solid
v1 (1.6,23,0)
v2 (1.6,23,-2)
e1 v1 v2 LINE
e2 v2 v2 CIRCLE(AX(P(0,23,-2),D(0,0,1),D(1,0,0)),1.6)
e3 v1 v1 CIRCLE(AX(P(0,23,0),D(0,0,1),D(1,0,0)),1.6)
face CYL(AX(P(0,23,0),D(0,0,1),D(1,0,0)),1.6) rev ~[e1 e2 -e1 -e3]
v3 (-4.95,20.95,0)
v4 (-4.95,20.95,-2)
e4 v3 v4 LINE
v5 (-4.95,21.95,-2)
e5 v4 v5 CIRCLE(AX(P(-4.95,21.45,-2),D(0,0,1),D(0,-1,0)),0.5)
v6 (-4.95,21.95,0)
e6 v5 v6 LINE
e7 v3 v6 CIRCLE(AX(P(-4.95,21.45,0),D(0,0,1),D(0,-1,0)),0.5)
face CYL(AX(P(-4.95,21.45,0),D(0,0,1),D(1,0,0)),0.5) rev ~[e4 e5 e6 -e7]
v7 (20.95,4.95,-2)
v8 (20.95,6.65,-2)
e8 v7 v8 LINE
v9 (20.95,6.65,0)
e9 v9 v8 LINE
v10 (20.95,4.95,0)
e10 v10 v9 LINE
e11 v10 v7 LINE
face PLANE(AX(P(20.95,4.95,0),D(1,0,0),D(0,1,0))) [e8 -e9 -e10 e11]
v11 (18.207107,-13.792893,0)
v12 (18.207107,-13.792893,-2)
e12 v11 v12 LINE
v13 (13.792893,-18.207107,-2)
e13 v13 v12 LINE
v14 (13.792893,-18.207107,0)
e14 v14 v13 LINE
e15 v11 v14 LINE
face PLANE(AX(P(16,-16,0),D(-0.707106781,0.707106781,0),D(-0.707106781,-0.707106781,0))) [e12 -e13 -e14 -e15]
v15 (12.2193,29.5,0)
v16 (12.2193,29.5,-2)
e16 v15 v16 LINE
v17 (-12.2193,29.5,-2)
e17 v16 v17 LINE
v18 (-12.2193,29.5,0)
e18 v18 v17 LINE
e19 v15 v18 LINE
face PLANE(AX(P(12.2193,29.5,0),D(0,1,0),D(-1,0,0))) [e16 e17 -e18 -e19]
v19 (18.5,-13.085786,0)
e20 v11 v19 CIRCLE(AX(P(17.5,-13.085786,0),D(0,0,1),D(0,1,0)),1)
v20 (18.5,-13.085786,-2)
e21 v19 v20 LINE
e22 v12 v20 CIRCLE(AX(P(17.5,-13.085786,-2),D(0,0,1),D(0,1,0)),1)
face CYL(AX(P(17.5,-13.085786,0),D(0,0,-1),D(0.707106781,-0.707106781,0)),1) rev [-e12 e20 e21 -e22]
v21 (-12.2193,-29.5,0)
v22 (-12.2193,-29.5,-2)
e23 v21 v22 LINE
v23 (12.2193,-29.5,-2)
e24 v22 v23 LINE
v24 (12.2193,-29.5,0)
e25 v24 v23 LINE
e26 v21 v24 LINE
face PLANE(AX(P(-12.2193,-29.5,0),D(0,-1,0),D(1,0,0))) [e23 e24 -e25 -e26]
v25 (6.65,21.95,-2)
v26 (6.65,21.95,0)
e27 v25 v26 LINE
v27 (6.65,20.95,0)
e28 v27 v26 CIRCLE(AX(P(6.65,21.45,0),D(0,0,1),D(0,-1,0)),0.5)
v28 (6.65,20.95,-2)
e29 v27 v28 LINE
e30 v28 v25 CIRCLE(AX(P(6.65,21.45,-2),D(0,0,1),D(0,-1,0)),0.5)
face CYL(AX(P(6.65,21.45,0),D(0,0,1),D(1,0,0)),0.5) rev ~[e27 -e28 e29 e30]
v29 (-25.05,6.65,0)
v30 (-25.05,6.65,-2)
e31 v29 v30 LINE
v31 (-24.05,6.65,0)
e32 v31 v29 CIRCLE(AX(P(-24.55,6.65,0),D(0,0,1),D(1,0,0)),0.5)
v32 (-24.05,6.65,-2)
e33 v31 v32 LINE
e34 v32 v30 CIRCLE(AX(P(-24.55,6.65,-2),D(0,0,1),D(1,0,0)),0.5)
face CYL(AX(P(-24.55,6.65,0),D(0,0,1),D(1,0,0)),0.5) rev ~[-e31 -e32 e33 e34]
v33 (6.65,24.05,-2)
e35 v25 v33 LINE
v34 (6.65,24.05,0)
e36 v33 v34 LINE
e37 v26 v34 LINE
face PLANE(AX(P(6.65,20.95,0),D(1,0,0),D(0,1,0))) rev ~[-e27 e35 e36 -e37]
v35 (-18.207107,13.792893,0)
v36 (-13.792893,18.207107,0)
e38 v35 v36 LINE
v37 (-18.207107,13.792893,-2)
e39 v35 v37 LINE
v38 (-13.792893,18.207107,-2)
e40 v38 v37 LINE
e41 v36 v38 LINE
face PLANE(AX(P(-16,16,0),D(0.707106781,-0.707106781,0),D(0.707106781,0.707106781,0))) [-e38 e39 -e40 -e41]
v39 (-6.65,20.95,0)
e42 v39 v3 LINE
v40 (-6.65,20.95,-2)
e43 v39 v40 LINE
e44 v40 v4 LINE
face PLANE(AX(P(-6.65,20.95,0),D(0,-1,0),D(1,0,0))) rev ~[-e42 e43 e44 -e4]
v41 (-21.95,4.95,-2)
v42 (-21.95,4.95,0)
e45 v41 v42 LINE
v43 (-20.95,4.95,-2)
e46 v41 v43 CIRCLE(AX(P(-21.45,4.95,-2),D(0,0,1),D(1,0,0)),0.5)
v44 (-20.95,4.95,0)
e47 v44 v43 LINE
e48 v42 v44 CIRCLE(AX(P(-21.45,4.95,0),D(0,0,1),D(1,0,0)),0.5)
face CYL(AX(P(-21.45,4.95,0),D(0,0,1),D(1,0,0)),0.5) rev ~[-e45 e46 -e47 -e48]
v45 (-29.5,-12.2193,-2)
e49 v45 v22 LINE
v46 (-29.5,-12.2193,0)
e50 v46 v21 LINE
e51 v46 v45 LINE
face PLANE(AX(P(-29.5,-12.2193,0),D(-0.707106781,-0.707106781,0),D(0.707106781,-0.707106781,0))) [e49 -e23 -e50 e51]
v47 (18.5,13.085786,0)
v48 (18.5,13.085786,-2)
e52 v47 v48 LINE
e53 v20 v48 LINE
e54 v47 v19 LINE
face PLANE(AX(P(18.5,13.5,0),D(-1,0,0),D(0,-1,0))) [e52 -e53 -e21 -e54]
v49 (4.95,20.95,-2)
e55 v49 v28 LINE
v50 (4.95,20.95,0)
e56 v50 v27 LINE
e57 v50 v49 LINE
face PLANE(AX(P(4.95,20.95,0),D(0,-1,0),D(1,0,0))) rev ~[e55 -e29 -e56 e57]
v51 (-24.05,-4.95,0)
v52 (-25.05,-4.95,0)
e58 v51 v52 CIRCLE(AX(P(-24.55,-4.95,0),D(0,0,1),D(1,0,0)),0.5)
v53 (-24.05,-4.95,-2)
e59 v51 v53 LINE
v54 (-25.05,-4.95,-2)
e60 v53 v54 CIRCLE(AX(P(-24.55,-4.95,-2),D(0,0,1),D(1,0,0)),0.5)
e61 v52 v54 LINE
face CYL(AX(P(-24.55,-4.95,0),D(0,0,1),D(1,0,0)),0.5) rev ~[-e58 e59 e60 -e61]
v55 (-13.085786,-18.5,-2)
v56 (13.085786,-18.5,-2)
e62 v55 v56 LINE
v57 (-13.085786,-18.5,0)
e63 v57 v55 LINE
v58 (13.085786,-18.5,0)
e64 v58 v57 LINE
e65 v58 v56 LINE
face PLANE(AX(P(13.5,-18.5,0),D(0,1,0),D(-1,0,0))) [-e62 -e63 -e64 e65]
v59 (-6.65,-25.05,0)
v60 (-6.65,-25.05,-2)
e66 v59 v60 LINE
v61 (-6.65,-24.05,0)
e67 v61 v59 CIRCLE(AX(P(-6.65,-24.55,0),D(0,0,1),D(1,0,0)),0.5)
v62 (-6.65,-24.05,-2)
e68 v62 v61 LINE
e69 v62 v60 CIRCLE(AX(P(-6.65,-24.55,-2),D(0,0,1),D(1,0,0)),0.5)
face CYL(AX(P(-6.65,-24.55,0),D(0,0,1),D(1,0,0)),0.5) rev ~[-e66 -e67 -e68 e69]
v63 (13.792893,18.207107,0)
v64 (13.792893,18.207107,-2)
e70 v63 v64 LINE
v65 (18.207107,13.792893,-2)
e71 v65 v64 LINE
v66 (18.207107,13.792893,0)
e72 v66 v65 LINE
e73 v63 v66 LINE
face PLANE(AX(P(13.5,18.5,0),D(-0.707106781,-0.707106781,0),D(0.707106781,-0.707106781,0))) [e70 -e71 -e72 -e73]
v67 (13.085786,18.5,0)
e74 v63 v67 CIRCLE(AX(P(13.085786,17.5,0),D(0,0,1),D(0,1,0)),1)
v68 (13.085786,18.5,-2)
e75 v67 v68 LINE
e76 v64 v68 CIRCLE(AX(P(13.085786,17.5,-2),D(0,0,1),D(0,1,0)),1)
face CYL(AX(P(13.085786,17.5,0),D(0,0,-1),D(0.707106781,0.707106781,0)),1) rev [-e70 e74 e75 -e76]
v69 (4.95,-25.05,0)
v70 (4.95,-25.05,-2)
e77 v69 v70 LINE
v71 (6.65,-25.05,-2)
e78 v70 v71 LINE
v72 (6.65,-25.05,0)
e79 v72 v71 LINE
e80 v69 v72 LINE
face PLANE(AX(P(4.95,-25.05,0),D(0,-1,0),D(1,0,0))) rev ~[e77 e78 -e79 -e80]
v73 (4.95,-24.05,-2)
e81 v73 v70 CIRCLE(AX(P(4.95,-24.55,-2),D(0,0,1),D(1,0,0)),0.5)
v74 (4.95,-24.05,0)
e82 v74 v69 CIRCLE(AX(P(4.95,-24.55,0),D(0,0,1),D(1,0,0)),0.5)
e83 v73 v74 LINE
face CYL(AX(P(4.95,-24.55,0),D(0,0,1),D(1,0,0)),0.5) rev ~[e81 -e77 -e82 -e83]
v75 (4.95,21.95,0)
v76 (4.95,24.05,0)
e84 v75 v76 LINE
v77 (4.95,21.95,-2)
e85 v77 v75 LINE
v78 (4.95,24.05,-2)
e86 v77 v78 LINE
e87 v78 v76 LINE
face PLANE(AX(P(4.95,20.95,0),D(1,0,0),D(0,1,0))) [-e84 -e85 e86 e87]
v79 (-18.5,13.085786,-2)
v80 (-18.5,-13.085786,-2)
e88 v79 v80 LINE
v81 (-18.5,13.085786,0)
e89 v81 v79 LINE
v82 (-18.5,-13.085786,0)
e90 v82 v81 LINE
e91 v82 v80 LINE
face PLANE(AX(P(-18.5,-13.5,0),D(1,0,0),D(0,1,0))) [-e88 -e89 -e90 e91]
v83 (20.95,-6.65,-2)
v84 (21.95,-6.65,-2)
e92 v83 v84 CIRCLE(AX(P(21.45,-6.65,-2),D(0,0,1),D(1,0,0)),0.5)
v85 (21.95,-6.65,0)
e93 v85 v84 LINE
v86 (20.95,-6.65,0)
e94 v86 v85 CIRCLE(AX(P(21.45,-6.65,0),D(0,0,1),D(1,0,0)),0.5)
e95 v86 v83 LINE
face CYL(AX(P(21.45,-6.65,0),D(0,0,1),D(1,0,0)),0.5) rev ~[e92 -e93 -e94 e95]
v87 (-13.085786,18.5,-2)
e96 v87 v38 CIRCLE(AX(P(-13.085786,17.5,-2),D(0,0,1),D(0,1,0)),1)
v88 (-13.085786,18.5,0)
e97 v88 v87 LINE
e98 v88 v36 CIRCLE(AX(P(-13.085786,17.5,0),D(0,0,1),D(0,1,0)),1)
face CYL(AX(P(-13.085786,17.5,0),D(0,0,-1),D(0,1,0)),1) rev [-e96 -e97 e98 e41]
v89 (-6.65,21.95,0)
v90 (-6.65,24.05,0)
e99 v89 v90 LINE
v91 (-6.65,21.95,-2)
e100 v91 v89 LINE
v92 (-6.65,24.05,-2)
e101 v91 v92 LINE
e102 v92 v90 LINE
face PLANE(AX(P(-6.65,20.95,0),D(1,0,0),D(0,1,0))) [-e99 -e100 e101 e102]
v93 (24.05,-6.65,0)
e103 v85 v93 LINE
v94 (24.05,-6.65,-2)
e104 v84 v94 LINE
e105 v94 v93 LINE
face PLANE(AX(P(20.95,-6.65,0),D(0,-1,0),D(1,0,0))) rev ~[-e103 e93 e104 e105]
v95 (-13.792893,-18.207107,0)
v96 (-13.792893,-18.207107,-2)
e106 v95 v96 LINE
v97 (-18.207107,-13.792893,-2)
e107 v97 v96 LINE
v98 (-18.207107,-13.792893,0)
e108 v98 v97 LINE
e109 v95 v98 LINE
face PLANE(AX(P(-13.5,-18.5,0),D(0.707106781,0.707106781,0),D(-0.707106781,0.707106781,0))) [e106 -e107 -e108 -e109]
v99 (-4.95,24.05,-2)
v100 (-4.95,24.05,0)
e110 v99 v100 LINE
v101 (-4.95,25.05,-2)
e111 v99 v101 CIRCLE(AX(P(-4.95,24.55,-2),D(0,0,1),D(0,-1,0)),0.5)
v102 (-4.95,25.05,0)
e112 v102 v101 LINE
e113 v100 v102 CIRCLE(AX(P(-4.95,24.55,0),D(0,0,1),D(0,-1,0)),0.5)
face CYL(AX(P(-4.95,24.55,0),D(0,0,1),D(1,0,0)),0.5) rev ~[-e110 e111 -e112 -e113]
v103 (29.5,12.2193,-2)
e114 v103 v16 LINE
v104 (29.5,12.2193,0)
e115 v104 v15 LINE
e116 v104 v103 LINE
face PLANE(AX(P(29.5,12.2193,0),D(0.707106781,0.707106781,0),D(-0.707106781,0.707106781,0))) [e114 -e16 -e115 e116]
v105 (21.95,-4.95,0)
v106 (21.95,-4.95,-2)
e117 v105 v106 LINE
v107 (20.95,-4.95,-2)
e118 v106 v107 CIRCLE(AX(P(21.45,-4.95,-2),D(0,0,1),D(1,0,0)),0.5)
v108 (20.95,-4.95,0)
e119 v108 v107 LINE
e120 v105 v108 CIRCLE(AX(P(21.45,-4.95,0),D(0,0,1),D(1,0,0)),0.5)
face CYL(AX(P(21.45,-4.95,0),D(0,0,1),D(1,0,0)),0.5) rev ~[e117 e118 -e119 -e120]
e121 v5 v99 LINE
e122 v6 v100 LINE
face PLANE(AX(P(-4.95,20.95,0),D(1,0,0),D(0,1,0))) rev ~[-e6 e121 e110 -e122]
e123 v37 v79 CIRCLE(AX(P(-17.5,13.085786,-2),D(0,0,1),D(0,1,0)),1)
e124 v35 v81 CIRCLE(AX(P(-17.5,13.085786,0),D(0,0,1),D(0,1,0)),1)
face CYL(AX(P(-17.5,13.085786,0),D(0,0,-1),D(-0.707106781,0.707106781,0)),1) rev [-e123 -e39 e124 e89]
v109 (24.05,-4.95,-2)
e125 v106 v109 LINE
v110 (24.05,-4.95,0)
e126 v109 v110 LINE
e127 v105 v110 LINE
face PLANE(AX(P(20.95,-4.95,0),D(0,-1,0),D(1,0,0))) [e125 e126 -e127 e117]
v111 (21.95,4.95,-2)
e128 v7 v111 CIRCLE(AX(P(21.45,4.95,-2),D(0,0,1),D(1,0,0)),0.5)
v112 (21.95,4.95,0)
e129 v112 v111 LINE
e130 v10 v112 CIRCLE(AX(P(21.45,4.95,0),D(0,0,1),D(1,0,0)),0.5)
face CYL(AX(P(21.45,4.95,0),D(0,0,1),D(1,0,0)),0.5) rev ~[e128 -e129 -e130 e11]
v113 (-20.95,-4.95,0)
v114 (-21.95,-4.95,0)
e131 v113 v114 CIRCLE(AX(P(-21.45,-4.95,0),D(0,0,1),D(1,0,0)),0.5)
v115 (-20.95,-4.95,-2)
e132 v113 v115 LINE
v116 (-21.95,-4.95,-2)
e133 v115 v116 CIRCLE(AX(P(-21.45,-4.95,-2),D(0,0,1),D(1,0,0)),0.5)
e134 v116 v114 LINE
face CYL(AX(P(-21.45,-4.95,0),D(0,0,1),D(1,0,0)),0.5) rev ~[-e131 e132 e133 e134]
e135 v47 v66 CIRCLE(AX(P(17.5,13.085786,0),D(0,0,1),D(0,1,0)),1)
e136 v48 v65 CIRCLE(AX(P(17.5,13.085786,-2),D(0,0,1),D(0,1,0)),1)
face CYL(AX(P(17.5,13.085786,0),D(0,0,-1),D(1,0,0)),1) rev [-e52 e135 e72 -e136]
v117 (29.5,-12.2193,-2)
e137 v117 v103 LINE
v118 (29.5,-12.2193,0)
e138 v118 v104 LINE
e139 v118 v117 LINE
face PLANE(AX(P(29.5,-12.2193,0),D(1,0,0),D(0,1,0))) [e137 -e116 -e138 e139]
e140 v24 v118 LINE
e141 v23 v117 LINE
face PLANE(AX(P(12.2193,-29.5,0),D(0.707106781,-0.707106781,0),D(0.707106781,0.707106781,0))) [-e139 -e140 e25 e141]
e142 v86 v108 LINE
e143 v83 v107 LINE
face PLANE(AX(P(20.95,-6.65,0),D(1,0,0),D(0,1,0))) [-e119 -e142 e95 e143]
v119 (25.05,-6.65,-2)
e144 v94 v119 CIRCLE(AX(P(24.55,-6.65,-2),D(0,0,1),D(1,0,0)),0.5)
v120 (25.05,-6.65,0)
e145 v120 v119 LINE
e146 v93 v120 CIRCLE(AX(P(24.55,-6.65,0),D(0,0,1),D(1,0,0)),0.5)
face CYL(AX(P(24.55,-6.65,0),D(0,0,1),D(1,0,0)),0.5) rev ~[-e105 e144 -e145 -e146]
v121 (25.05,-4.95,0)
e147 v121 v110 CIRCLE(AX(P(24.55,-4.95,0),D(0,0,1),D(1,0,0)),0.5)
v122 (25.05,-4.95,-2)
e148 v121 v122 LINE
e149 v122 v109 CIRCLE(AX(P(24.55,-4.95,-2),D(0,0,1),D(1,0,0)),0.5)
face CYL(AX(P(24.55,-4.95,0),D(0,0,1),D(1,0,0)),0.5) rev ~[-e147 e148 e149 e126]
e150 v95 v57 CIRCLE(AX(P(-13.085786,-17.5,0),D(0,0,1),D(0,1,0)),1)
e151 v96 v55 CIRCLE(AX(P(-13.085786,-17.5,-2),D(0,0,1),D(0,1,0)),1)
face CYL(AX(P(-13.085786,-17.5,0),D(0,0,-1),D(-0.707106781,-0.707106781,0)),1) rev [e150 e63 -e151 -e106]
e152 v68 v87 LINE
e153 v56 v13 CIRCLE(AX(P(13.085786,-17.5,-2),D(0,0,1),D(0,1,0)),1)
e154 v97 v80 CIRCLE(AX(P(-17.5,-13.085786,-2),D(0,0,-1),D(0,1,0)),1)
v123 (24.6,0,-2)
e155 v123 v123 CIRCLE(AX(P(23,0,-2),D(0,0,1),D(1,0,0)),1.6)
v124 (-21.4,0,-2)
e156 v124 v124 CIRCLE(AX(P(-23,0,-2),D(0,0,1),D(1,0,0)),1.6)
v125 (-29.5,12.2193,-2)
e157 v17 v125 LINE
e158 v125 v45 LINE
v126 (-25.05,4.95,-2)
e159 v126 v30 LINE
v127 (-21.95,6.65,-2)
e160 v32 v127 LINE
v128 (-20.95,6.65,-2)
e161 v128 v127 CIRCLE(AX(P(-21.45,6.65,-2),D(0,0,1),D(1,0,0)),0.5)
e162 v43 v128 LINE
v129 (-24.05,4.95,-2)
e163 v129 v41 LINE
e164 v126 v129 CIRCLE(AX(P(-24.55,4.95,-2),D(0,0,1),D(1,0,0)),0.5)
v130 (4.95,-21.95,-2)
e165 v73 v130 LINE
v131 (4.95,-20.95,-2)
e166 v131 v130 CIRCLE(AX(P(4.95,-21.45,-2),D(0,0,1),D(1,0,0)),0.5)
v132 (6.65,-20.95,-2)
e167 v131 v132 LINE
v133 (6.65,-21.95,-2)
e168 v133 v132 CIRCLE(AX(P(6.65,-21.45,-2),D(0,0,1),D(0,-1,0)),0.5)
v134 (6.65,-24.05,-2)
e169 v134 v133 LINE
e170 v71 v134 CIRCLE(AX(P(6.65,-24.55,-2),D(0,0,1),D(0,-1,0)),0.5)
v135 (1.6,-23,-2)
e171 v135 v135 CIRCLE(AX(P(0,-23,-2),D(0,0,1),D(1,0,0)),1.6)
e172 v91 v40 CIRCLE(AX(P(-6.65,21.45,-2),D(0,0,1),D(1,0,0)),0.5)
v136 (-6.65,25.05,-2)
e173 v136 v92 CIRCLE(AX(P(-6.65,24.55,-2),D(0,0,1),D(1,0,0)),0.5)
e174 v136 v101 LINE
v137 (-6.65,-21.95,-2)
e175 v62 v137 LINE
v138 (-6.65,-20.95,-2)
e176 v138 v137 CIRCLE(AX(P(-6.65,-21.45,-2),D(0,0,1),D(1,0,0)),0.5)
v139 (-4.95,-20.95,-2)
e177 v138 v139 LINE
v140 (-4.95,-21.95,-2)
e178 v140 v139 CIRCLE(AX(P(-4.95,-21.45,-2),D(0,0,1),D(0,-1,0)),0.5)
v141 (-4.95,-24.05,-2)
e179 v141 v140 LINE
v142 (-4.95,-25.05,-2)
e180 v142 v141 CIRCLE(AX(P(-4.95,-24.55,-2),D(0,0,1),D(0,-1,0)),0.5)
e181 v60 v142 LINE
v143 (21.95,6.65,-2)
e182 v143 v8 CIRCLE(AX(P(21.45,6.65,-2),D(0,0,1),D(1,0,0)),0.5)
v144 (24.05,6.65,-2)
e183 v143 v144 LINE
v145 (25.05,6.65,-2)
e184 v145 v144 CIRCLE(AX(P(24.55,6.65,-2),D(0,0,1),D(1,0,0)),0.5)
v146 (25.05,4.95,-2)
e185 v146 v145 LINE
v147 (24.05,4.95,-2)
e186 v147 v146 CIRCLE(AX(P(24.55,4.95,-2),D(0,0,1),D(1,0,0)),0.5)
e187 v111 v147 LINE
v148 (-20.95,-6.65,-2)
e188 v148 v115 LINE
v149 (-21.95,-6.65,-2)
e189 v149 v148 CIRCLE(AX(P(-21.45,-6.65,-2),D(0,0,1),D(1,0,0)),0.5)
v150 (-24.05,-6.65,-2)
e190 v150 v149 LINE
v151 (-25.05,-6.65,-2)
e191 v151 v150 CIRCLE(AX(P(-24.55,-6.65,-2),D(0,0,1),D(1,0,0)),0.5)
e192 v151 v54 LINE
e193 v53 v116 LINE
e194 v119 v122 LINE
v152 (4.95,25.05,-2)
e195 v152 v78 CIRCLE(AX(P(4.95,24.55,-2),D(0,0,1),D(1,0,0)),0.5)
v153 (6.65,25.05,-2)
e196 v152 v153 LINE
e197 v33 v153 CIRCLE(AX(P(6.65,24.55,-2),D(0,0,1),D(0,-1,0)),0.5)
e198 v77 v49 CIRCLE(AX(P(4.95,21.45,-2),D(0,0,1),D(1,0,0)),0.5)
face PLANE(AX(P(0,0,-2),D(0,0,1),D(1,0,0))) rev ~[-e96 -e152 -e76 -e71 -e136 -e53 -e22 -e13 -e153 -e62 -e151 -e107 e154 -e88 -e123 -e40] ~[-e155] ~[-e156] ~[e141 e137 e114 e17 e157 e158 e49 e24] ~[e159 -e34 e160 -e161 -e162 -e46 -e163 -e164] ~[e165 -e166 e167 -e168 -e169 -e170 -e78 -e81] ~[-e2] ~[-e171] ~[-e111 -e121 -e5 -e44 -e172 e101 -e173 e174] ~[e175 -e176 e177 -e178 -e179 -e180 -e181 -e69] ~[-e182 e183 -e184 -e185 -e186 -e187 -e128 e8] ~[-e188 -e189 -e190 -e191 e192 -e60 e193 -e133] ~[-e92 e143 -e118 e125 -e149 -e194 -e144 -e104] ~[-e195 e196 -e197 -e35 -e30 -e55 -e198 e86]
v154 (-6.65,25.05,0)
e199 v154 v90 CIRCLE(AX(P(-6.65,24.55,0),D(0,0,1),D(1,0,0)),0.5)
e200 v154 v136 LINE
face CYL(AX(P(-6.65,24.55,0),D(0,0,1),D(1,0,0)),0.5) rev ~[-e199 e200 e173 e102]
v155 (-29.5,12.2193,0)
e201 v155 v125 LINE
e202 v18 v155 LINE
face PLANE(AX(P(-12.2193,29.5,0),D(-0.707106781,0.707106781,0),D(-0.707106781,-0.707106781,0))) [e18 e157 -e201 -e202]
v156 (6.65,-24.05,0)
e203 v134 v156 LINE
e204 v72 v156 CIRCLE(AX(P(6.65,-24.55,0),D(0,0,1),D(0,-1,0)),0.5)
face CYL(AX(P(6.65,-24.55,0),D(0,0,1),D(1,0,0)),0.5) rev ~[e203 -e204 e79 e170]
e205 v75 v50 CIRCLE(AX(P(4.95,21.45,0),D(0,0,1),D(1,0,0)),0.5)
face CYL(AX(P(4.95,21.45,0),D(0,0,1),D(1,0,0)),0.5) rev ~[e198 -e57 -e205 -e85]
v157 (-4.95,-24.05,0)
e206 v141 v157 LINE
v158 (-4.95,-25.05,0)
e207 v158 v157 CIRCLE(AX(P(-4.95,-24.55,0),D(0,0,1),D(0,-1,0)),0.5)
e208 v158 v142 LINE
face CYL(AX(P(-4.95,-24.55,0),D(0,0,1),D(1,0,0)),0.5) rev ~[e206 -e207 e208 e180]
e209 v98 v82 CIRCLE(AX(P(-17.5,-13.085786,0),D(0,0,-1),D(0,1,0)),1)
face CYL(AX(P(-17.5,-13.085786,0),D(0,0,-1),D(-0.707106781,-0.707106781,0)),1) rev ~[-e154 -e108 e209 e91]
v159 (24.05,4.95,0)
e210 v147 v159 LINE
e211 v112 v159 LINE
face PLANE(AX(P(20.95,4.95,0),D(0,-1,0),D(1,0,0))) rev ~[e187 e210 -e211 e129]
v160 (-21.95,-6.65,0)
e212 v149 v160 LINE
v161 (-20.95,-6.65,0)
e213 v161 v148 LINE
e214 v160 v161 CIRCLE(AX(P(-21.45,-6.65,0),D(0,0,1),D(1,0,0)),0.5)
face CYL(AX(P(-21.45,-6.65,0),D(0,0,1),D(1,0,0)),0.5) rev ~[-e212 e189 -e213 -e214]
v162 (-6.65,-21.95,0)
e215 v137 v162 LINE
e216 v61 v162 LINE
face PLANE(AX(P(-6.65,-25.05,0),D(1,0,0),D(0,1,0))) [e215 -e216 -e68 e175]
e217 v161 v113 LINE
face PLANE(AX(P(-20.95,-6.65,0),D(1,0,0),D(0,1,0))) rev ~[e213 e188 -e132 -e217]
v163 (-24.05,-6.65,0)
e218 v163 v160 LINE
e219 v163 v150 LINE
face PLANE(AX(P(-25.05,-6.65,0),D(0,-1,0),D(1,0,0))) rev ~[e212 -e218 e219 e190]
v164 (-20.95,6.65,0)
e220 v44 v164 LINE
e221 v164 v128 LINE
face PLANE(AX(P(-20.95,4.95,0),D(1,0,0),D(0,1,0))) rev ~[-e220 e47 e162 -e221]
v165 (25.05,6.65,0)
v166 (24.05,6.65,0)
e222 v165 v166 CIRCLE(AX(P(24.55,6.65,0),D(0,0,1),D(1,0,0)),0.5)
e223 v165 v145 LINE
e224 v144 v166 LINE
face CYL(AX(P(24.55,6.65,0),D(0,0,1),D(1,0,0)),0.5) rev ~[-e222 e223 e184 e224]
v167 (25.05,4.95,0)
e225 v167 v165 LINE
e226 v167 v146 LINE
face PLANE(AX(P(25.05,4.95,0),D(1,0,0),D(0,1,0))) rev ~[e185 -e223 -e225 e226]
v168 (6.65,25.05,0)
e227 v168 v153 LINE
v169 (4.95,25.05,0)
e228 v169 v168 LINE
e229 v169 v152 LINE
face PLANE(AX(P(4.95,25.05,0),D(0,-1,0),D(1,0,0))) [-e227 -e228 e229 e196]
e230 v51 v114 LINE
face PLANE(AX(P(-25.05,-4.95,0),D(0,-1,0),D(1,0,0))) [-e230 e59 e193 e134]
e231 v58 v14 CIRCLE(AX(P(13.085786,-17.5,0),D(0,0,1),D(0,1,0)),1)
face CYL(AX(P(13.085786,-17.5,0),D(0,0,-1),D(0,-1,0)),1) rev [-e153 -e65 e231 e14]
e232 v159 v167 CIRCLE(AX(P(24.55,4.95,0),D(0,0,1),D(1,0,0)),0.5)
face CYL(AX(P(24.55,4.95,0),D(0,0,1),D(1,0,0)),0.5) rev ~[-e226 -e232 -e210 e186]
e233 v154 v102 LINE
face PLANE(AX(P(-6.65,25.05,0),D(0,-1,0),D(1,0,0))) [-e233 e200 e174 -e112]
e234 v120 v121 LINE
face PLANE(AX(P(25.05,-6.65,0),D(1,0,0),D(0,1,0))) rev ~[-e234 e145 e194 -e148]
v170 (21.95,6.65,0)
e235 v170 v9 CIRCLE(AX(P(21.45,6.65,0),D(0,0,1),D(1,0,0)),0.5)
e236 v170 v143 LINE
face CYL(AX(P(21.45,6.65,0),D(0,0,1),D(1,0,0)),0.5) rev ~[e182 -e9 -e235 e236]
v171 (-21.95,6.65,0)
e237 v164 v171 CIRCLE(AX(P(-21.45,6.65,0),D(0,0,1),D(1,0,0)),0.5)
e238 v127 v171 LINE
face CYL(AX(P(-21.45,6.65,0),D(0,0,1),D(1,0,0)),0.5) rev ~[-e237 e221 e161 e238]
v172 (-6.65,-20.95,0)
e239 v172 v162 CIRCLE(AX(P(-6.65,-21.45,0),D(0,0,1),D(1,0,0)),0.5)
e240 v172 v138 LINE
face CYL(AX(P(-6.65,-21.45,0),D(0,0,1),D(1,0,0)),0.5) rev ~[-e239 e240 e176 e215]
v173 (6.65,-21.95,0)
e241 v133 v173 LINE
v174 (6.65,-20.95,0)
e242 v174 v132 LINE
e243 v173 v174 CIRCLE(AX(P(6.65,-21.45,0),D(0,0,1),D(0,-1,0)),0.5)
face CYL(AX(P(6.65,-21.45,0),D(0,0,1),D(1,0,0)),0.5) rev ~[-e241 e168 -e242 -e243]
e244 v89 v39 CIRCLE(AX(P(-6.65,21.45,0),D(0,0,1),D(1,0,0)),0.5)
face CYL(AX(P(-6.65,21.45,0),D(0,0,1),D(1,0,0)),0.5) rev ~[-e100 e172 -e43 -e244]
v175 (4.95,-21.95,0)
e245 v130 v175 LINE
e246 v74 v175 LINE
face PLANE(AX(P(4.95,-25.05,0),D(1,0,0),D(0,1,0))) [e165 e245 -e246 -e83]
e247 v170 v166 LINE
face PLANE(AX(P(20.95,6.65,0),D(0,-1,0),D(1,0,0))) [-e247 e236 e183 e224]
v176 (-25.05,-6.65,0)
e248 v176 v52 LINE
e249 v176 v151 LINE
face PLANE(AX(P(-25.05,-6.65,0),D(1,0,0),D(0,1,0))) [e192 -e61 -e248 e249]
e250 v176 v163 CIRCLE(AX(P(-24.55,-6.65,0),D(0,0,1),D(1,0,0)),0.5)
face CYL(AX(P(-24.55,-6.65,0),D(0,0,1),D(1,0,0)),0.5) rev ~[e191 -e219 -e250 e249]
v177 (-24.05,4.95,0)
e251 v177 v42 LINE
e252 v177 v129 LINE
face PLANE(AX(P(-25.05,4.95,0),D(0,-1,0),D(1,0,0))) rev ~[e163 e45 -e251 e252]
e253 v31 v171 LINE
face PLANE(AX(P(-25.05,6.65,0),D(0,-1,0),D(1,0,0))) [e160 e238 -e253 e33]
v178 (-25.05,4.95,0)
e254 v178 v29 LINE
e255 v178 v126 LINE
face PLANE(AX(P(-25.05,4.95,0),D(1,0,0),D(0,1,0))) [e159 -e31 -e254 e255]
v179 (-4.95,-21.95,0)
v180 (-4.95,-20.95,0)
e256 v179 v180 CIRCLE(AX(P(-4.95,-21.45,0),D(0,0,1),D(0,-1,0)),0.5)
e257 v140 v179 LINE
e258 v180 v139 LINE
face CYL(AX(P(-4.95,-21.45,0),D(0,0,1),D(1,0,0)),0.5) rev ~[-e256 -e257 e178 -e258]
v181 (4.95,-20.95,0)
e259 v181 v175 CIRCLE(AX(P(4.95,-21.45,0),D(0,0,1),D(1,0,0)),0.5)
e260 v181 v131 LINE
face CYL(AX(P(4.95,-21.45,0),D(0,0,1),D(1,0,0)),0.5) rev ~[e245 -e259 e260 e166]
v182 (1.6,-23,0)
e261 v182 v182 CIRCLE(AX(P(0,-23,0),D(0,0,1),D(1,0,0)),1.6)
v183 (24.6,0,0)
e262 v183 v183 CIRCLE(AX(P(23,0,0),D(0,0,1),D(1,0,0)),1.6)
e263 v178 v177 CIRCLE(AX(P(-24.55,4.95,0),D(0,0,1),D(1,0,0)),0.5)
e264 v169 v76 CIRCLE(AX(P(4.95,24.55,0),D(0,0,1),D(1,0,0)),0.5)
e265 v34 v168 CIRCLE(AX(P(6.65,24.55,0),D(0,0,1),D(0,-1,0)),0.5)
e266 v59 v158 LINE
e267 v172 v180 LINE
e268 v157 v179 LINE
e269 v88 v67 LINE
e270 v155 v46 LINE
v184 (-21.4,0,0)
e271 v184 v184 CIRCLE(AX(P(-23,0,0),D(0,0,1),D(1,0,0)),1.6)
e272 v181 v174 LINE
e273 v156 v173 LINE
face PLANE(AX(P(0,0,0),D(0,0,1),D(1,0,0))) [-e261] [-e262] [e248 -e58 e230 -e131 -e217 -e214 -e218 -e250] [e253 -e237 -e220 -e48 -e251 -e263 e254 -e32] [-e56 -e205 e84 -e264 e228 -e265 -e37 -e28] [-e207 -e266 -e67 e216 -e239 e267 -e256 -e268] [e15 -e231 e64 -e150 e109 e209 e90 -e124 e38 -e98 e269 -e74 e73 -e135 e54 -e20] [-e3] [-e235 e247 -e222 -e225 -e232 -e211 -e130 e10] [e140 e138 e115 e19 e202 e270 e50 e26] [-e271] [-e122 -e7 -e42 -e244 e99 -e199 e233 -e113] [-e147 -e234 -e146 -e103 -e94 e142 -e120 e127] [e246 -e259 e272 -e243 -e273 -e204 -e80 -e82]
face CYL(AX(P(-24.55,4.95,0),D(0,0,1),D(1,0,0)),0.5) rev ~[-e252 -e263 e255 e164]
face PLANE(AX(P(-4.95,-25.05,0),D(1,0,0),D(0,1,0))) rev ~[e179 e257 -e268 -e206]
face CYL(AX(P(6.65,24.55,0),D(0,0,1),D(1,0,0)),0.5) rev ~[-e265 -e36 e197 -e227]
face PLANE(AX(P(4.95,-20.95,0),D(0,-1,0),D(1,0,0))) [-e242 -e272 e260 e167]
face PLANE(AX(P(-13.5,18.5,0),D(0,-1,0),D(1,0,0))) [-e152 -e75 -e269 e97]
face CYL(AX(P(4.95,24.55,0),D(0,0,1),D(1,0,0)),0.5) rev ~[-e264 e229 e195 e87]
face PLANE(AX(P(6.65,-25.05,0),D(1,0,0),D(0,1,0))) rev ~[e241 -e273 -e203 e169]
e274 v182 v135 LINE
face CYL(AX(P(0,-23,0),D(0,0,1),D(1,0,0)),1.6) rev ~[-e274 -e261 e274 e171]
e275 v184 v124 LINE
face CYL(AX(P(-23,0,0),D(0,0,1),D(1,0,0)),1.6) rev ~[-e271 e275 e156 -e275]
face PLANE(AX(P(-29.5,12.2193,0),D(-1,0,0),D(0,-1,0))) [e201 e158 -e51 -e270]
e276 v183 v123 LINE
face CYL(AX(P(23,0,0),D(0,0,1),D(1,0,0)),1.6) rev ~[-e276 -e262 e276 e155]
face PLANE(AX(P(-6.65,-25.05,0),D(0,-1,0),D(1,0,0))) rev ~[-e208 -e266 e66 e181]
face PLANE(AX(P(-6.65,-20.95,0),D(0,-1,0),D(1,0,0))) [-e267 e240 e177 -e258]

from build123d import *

# Parameters (mm, degrees)
SKETCH1_R           = 1.6
SKETCH1_W           = 4.1
SKETCH1_H           = 1.7
SKETCH1_W_2         = 1.7
SKETCH1_H_2         = 4.1
BOSS_EXTRUDE1_DEPTH = 2
CUT_EXTRUDE1_REACH  = 43.767
FILLET2_R           = 1
SKETCH4_R           = 0.5
CUT_EXTRUDE3_DEPTH  = 2


with BuildPart() as part:
    # Sketch1 → Boss-Extrude1 (new body)
    with BuildSketch(Plane.XY):
        Polygon((29.5, 12.21930009), (12.21930009, 29.5), (-12.21930009, 29.5), (-29.5, 12.21930009), (-29.5, -12.21930009), (-12.21930009, -29.5), (12.21930009, -29.5), (29.5, -12.21930009), align=None)
        with Locations((-23, 0)):
            Circle(SKETCH1_R, mode=Mode.SUBTRACT)
        with Locations((0, 23)):
            Circle(SKETCH1_R, mode=Mode.SUBTRACT)
        with Locations((23, 0)):
            Circle(SKETCH1_R, mode=Mode.SUBTRACT)
        with Locations((0, -23)):
            Circle(SKETCH1_R, mode=Mode.SUBTRACT)
        with Locations((-23, -5.8)):
            Rectangle(SKETCH1_W, SKETCH1_H, mode=Mode.SUBTRACT)
        with Locations((-5.8, 23)):
            Rectangle(SKETCH1_W_2, SKETCH1_H_2, mode=Mode.SUBTRACT)
        with Locations((-23, 5.8)):
            Rectangle(SKETCH1_W, SKETCH1_H, mode=Mode.SUBTRACT)
        with Locations((5.8, 23)):
            Rectangle(SKETCH1_W_2, SKETCH1_H_2, mode=Mode.SUBTRACT)
        with Locations((23, 5.8)):
            Rectangle(SKETCH1_W, SKETCH1_H, mode=Mode.SUBTRACT)
        with Locations((23, -5.8)):
            Rectangle(SKETCH1_W, SKETCH1_H, mode=Mode.SUBTRACT)
        with Locations((5.8, -23)):
            Rectangle(SKETCH1_W_2, SKETCH1_H_2, mode=Mode.SUBTRACT)
        with Locations((-5.8, -23)):
            Rectangle(SKETCH1_W_2, SKETCH1_H_2, mode=Mode.SUBTRACT)
    extrude(amount=-BOSS_EXTRUDE1_DEPTH)

    # Sketch2 → Cut-Extrude1 (cut, up to next)
    with BuildSketch(Plane(origin=(0, 0, 0), x_dir=(-1, 0, 0), z_dir=(0, 0, -1)), mode=Mode.PRIVATE) as cut_extrude1_sk1:
        Polygon((18.5, 13.5), (16, 16), (-16, -16), (-13.5, -18.5), (13.5, -18.5), (18.5, -13.5), align=None)
    cut_extrude1_tool1 = extrude(cut_extrude1_sk1.sketch, amount=CUT_EXTRUDE1_REACH, mode=Mode.PRIVATE) & part.part
    # Sketch2 → Cut-Extrude1 (cut, up to next)
    with BuildSketch(Plane(origin=(0, 0, 0), x_dir=(-1, 0, 0), z_dir=(0, 0, -1)), mode=Mode.PRIVATE) as cut_extrude1_sk2:
        Polygon((-16, -16), (16, 16), (13.5, 18.5), (-13.5, 18.5), (-18.5, 13.5), (-18.5, -13.5), align=None)
    cut_extrude1_tool2 = extrude(cut_extrude1_sk2.sketch, amount=CUT_EXTRUDE1_REACH, mode=Mode.PRIVATE) & part.part
    add(cut_extrude1_tool1.solids().sort_by_distance((-6.06558, -6.06558, 0))[0], mode=Mode.SUBTRACT)
    add(cut_extrude1_tool2.solids().sort_by_distance((6.06558, 6.06558, 0))[0], mode=Mode.SUBTRACT)

    # Fillet2
    fillet2_edges = [part.edges().sort_by_distance(p)[0] for p in [
        (18.5, -13.5, -1),
        (13.5, -18.5, -1),
        (-13.5, -18.5, -1),
        (-18.5, -13.5, -1),
        (-18.5, 13.5, -1),
        (-13.5, 18.5, -1),
        (13.5, 18.5, -1),
        (18.5, 13.5, -1),
    ]]
    fillet(fillet2_edges, radius=FILLET2_R)

    # Sketch4 → Cut-Extrude3 (cut)
    with BuildSketch(Plane.XY):
        with Locations((-24.55, 6.65)):
            Circle(SKETCH4_R)
        with Locations((-21.45, 6.65)):
            Circle(SKETCH4_R)
        with Locations((-21.45, 4.95)):
            Circle(SKETCH4_R)
        with Locations((-24.55, 4.95)):
            Circle(SKETCH4_R)
        with Locations((-24.55, -4.95)):
            Circle(SKETCH4_R)
        with Locations((-24.55, -6.65)):
            Circle(SKETCH4_R)
        with Locations((-21.45, -4.95)):
            Circle(SKETCH4_R)
        with Locations((-21.45, -6.65)):
            Circle(SKETCH4_R)
        with Locations((6.65, 21.45)):
            Circle(SKETCH4_R)
        with Locations((4.95, 21.45)):
            Circle(SKETCH4_R)
        with Locations((4.95, 24.55)):
            Circle(SKETCH4_R)
        with Locations((-4.95, 24.55)):
            Circle(SKETCH4_R)
        with Locations((-6.65, 24.55)):
            Circle(SKETCH4_R)
        with Locations((-4.95, 21.45)):
            Circle(SKETCH4_R)
        with Locations((-6.65, 21.45)):
            Circle(SKETCH4_R)
        with Locations((21.45, -6.65)):
            Circle(SKETCH4_R)
        with Locations((21.45, -4.95)):
            Circle(SKETCH4_R)
        with Locations((24.55, -4.95)):
            Circle(SKETCH4_R)
        with Locations((24.55, 4.95)):
            Circle(SKETCH4_R)
        with Locations((24.55, 6.65)):
            Circle(SKETCH4_R)
        with Locations((21.45, 4.95)):
            Circle(SKETCH4_R)
        with Locations((21.45, 6.65)):
            Circle(SKETCH4_R)
        with Locations((-6.65, -21.45)):
            Circle(SKETCH4_R)
        with Locations((-4.95, -21.45)):
            Circle(SKETCH4_R)
        with Locations((-4.95, -24.55)):
            Circle(SKETCH4_R)
        with Locations((4.95, -24.55)):
            Circle(SKETCH4_R)
        with Locations((6.65, -24.55)):
            Circle(SKETCH4_R)
        with Locations((4.95, -21.45)):
            Circle(SKETCH4_R)
        with Locations((6.65, -21.45)):
            Circle(SKETCH4_R)
        with Locations((6.65, 24.55)):
            Circle(SKETCH4_R)
        with Locations((24.55, -6.65)):
            Circle(SKETCH4_R)
        with Locations((-6.65, -24.55)):
            Circle(SKETCH4_R)
    extrude(amount=-CUT_EXTRUDE3_DEPTH, mode=Mode.SUBTRACT)


solid = part.part
